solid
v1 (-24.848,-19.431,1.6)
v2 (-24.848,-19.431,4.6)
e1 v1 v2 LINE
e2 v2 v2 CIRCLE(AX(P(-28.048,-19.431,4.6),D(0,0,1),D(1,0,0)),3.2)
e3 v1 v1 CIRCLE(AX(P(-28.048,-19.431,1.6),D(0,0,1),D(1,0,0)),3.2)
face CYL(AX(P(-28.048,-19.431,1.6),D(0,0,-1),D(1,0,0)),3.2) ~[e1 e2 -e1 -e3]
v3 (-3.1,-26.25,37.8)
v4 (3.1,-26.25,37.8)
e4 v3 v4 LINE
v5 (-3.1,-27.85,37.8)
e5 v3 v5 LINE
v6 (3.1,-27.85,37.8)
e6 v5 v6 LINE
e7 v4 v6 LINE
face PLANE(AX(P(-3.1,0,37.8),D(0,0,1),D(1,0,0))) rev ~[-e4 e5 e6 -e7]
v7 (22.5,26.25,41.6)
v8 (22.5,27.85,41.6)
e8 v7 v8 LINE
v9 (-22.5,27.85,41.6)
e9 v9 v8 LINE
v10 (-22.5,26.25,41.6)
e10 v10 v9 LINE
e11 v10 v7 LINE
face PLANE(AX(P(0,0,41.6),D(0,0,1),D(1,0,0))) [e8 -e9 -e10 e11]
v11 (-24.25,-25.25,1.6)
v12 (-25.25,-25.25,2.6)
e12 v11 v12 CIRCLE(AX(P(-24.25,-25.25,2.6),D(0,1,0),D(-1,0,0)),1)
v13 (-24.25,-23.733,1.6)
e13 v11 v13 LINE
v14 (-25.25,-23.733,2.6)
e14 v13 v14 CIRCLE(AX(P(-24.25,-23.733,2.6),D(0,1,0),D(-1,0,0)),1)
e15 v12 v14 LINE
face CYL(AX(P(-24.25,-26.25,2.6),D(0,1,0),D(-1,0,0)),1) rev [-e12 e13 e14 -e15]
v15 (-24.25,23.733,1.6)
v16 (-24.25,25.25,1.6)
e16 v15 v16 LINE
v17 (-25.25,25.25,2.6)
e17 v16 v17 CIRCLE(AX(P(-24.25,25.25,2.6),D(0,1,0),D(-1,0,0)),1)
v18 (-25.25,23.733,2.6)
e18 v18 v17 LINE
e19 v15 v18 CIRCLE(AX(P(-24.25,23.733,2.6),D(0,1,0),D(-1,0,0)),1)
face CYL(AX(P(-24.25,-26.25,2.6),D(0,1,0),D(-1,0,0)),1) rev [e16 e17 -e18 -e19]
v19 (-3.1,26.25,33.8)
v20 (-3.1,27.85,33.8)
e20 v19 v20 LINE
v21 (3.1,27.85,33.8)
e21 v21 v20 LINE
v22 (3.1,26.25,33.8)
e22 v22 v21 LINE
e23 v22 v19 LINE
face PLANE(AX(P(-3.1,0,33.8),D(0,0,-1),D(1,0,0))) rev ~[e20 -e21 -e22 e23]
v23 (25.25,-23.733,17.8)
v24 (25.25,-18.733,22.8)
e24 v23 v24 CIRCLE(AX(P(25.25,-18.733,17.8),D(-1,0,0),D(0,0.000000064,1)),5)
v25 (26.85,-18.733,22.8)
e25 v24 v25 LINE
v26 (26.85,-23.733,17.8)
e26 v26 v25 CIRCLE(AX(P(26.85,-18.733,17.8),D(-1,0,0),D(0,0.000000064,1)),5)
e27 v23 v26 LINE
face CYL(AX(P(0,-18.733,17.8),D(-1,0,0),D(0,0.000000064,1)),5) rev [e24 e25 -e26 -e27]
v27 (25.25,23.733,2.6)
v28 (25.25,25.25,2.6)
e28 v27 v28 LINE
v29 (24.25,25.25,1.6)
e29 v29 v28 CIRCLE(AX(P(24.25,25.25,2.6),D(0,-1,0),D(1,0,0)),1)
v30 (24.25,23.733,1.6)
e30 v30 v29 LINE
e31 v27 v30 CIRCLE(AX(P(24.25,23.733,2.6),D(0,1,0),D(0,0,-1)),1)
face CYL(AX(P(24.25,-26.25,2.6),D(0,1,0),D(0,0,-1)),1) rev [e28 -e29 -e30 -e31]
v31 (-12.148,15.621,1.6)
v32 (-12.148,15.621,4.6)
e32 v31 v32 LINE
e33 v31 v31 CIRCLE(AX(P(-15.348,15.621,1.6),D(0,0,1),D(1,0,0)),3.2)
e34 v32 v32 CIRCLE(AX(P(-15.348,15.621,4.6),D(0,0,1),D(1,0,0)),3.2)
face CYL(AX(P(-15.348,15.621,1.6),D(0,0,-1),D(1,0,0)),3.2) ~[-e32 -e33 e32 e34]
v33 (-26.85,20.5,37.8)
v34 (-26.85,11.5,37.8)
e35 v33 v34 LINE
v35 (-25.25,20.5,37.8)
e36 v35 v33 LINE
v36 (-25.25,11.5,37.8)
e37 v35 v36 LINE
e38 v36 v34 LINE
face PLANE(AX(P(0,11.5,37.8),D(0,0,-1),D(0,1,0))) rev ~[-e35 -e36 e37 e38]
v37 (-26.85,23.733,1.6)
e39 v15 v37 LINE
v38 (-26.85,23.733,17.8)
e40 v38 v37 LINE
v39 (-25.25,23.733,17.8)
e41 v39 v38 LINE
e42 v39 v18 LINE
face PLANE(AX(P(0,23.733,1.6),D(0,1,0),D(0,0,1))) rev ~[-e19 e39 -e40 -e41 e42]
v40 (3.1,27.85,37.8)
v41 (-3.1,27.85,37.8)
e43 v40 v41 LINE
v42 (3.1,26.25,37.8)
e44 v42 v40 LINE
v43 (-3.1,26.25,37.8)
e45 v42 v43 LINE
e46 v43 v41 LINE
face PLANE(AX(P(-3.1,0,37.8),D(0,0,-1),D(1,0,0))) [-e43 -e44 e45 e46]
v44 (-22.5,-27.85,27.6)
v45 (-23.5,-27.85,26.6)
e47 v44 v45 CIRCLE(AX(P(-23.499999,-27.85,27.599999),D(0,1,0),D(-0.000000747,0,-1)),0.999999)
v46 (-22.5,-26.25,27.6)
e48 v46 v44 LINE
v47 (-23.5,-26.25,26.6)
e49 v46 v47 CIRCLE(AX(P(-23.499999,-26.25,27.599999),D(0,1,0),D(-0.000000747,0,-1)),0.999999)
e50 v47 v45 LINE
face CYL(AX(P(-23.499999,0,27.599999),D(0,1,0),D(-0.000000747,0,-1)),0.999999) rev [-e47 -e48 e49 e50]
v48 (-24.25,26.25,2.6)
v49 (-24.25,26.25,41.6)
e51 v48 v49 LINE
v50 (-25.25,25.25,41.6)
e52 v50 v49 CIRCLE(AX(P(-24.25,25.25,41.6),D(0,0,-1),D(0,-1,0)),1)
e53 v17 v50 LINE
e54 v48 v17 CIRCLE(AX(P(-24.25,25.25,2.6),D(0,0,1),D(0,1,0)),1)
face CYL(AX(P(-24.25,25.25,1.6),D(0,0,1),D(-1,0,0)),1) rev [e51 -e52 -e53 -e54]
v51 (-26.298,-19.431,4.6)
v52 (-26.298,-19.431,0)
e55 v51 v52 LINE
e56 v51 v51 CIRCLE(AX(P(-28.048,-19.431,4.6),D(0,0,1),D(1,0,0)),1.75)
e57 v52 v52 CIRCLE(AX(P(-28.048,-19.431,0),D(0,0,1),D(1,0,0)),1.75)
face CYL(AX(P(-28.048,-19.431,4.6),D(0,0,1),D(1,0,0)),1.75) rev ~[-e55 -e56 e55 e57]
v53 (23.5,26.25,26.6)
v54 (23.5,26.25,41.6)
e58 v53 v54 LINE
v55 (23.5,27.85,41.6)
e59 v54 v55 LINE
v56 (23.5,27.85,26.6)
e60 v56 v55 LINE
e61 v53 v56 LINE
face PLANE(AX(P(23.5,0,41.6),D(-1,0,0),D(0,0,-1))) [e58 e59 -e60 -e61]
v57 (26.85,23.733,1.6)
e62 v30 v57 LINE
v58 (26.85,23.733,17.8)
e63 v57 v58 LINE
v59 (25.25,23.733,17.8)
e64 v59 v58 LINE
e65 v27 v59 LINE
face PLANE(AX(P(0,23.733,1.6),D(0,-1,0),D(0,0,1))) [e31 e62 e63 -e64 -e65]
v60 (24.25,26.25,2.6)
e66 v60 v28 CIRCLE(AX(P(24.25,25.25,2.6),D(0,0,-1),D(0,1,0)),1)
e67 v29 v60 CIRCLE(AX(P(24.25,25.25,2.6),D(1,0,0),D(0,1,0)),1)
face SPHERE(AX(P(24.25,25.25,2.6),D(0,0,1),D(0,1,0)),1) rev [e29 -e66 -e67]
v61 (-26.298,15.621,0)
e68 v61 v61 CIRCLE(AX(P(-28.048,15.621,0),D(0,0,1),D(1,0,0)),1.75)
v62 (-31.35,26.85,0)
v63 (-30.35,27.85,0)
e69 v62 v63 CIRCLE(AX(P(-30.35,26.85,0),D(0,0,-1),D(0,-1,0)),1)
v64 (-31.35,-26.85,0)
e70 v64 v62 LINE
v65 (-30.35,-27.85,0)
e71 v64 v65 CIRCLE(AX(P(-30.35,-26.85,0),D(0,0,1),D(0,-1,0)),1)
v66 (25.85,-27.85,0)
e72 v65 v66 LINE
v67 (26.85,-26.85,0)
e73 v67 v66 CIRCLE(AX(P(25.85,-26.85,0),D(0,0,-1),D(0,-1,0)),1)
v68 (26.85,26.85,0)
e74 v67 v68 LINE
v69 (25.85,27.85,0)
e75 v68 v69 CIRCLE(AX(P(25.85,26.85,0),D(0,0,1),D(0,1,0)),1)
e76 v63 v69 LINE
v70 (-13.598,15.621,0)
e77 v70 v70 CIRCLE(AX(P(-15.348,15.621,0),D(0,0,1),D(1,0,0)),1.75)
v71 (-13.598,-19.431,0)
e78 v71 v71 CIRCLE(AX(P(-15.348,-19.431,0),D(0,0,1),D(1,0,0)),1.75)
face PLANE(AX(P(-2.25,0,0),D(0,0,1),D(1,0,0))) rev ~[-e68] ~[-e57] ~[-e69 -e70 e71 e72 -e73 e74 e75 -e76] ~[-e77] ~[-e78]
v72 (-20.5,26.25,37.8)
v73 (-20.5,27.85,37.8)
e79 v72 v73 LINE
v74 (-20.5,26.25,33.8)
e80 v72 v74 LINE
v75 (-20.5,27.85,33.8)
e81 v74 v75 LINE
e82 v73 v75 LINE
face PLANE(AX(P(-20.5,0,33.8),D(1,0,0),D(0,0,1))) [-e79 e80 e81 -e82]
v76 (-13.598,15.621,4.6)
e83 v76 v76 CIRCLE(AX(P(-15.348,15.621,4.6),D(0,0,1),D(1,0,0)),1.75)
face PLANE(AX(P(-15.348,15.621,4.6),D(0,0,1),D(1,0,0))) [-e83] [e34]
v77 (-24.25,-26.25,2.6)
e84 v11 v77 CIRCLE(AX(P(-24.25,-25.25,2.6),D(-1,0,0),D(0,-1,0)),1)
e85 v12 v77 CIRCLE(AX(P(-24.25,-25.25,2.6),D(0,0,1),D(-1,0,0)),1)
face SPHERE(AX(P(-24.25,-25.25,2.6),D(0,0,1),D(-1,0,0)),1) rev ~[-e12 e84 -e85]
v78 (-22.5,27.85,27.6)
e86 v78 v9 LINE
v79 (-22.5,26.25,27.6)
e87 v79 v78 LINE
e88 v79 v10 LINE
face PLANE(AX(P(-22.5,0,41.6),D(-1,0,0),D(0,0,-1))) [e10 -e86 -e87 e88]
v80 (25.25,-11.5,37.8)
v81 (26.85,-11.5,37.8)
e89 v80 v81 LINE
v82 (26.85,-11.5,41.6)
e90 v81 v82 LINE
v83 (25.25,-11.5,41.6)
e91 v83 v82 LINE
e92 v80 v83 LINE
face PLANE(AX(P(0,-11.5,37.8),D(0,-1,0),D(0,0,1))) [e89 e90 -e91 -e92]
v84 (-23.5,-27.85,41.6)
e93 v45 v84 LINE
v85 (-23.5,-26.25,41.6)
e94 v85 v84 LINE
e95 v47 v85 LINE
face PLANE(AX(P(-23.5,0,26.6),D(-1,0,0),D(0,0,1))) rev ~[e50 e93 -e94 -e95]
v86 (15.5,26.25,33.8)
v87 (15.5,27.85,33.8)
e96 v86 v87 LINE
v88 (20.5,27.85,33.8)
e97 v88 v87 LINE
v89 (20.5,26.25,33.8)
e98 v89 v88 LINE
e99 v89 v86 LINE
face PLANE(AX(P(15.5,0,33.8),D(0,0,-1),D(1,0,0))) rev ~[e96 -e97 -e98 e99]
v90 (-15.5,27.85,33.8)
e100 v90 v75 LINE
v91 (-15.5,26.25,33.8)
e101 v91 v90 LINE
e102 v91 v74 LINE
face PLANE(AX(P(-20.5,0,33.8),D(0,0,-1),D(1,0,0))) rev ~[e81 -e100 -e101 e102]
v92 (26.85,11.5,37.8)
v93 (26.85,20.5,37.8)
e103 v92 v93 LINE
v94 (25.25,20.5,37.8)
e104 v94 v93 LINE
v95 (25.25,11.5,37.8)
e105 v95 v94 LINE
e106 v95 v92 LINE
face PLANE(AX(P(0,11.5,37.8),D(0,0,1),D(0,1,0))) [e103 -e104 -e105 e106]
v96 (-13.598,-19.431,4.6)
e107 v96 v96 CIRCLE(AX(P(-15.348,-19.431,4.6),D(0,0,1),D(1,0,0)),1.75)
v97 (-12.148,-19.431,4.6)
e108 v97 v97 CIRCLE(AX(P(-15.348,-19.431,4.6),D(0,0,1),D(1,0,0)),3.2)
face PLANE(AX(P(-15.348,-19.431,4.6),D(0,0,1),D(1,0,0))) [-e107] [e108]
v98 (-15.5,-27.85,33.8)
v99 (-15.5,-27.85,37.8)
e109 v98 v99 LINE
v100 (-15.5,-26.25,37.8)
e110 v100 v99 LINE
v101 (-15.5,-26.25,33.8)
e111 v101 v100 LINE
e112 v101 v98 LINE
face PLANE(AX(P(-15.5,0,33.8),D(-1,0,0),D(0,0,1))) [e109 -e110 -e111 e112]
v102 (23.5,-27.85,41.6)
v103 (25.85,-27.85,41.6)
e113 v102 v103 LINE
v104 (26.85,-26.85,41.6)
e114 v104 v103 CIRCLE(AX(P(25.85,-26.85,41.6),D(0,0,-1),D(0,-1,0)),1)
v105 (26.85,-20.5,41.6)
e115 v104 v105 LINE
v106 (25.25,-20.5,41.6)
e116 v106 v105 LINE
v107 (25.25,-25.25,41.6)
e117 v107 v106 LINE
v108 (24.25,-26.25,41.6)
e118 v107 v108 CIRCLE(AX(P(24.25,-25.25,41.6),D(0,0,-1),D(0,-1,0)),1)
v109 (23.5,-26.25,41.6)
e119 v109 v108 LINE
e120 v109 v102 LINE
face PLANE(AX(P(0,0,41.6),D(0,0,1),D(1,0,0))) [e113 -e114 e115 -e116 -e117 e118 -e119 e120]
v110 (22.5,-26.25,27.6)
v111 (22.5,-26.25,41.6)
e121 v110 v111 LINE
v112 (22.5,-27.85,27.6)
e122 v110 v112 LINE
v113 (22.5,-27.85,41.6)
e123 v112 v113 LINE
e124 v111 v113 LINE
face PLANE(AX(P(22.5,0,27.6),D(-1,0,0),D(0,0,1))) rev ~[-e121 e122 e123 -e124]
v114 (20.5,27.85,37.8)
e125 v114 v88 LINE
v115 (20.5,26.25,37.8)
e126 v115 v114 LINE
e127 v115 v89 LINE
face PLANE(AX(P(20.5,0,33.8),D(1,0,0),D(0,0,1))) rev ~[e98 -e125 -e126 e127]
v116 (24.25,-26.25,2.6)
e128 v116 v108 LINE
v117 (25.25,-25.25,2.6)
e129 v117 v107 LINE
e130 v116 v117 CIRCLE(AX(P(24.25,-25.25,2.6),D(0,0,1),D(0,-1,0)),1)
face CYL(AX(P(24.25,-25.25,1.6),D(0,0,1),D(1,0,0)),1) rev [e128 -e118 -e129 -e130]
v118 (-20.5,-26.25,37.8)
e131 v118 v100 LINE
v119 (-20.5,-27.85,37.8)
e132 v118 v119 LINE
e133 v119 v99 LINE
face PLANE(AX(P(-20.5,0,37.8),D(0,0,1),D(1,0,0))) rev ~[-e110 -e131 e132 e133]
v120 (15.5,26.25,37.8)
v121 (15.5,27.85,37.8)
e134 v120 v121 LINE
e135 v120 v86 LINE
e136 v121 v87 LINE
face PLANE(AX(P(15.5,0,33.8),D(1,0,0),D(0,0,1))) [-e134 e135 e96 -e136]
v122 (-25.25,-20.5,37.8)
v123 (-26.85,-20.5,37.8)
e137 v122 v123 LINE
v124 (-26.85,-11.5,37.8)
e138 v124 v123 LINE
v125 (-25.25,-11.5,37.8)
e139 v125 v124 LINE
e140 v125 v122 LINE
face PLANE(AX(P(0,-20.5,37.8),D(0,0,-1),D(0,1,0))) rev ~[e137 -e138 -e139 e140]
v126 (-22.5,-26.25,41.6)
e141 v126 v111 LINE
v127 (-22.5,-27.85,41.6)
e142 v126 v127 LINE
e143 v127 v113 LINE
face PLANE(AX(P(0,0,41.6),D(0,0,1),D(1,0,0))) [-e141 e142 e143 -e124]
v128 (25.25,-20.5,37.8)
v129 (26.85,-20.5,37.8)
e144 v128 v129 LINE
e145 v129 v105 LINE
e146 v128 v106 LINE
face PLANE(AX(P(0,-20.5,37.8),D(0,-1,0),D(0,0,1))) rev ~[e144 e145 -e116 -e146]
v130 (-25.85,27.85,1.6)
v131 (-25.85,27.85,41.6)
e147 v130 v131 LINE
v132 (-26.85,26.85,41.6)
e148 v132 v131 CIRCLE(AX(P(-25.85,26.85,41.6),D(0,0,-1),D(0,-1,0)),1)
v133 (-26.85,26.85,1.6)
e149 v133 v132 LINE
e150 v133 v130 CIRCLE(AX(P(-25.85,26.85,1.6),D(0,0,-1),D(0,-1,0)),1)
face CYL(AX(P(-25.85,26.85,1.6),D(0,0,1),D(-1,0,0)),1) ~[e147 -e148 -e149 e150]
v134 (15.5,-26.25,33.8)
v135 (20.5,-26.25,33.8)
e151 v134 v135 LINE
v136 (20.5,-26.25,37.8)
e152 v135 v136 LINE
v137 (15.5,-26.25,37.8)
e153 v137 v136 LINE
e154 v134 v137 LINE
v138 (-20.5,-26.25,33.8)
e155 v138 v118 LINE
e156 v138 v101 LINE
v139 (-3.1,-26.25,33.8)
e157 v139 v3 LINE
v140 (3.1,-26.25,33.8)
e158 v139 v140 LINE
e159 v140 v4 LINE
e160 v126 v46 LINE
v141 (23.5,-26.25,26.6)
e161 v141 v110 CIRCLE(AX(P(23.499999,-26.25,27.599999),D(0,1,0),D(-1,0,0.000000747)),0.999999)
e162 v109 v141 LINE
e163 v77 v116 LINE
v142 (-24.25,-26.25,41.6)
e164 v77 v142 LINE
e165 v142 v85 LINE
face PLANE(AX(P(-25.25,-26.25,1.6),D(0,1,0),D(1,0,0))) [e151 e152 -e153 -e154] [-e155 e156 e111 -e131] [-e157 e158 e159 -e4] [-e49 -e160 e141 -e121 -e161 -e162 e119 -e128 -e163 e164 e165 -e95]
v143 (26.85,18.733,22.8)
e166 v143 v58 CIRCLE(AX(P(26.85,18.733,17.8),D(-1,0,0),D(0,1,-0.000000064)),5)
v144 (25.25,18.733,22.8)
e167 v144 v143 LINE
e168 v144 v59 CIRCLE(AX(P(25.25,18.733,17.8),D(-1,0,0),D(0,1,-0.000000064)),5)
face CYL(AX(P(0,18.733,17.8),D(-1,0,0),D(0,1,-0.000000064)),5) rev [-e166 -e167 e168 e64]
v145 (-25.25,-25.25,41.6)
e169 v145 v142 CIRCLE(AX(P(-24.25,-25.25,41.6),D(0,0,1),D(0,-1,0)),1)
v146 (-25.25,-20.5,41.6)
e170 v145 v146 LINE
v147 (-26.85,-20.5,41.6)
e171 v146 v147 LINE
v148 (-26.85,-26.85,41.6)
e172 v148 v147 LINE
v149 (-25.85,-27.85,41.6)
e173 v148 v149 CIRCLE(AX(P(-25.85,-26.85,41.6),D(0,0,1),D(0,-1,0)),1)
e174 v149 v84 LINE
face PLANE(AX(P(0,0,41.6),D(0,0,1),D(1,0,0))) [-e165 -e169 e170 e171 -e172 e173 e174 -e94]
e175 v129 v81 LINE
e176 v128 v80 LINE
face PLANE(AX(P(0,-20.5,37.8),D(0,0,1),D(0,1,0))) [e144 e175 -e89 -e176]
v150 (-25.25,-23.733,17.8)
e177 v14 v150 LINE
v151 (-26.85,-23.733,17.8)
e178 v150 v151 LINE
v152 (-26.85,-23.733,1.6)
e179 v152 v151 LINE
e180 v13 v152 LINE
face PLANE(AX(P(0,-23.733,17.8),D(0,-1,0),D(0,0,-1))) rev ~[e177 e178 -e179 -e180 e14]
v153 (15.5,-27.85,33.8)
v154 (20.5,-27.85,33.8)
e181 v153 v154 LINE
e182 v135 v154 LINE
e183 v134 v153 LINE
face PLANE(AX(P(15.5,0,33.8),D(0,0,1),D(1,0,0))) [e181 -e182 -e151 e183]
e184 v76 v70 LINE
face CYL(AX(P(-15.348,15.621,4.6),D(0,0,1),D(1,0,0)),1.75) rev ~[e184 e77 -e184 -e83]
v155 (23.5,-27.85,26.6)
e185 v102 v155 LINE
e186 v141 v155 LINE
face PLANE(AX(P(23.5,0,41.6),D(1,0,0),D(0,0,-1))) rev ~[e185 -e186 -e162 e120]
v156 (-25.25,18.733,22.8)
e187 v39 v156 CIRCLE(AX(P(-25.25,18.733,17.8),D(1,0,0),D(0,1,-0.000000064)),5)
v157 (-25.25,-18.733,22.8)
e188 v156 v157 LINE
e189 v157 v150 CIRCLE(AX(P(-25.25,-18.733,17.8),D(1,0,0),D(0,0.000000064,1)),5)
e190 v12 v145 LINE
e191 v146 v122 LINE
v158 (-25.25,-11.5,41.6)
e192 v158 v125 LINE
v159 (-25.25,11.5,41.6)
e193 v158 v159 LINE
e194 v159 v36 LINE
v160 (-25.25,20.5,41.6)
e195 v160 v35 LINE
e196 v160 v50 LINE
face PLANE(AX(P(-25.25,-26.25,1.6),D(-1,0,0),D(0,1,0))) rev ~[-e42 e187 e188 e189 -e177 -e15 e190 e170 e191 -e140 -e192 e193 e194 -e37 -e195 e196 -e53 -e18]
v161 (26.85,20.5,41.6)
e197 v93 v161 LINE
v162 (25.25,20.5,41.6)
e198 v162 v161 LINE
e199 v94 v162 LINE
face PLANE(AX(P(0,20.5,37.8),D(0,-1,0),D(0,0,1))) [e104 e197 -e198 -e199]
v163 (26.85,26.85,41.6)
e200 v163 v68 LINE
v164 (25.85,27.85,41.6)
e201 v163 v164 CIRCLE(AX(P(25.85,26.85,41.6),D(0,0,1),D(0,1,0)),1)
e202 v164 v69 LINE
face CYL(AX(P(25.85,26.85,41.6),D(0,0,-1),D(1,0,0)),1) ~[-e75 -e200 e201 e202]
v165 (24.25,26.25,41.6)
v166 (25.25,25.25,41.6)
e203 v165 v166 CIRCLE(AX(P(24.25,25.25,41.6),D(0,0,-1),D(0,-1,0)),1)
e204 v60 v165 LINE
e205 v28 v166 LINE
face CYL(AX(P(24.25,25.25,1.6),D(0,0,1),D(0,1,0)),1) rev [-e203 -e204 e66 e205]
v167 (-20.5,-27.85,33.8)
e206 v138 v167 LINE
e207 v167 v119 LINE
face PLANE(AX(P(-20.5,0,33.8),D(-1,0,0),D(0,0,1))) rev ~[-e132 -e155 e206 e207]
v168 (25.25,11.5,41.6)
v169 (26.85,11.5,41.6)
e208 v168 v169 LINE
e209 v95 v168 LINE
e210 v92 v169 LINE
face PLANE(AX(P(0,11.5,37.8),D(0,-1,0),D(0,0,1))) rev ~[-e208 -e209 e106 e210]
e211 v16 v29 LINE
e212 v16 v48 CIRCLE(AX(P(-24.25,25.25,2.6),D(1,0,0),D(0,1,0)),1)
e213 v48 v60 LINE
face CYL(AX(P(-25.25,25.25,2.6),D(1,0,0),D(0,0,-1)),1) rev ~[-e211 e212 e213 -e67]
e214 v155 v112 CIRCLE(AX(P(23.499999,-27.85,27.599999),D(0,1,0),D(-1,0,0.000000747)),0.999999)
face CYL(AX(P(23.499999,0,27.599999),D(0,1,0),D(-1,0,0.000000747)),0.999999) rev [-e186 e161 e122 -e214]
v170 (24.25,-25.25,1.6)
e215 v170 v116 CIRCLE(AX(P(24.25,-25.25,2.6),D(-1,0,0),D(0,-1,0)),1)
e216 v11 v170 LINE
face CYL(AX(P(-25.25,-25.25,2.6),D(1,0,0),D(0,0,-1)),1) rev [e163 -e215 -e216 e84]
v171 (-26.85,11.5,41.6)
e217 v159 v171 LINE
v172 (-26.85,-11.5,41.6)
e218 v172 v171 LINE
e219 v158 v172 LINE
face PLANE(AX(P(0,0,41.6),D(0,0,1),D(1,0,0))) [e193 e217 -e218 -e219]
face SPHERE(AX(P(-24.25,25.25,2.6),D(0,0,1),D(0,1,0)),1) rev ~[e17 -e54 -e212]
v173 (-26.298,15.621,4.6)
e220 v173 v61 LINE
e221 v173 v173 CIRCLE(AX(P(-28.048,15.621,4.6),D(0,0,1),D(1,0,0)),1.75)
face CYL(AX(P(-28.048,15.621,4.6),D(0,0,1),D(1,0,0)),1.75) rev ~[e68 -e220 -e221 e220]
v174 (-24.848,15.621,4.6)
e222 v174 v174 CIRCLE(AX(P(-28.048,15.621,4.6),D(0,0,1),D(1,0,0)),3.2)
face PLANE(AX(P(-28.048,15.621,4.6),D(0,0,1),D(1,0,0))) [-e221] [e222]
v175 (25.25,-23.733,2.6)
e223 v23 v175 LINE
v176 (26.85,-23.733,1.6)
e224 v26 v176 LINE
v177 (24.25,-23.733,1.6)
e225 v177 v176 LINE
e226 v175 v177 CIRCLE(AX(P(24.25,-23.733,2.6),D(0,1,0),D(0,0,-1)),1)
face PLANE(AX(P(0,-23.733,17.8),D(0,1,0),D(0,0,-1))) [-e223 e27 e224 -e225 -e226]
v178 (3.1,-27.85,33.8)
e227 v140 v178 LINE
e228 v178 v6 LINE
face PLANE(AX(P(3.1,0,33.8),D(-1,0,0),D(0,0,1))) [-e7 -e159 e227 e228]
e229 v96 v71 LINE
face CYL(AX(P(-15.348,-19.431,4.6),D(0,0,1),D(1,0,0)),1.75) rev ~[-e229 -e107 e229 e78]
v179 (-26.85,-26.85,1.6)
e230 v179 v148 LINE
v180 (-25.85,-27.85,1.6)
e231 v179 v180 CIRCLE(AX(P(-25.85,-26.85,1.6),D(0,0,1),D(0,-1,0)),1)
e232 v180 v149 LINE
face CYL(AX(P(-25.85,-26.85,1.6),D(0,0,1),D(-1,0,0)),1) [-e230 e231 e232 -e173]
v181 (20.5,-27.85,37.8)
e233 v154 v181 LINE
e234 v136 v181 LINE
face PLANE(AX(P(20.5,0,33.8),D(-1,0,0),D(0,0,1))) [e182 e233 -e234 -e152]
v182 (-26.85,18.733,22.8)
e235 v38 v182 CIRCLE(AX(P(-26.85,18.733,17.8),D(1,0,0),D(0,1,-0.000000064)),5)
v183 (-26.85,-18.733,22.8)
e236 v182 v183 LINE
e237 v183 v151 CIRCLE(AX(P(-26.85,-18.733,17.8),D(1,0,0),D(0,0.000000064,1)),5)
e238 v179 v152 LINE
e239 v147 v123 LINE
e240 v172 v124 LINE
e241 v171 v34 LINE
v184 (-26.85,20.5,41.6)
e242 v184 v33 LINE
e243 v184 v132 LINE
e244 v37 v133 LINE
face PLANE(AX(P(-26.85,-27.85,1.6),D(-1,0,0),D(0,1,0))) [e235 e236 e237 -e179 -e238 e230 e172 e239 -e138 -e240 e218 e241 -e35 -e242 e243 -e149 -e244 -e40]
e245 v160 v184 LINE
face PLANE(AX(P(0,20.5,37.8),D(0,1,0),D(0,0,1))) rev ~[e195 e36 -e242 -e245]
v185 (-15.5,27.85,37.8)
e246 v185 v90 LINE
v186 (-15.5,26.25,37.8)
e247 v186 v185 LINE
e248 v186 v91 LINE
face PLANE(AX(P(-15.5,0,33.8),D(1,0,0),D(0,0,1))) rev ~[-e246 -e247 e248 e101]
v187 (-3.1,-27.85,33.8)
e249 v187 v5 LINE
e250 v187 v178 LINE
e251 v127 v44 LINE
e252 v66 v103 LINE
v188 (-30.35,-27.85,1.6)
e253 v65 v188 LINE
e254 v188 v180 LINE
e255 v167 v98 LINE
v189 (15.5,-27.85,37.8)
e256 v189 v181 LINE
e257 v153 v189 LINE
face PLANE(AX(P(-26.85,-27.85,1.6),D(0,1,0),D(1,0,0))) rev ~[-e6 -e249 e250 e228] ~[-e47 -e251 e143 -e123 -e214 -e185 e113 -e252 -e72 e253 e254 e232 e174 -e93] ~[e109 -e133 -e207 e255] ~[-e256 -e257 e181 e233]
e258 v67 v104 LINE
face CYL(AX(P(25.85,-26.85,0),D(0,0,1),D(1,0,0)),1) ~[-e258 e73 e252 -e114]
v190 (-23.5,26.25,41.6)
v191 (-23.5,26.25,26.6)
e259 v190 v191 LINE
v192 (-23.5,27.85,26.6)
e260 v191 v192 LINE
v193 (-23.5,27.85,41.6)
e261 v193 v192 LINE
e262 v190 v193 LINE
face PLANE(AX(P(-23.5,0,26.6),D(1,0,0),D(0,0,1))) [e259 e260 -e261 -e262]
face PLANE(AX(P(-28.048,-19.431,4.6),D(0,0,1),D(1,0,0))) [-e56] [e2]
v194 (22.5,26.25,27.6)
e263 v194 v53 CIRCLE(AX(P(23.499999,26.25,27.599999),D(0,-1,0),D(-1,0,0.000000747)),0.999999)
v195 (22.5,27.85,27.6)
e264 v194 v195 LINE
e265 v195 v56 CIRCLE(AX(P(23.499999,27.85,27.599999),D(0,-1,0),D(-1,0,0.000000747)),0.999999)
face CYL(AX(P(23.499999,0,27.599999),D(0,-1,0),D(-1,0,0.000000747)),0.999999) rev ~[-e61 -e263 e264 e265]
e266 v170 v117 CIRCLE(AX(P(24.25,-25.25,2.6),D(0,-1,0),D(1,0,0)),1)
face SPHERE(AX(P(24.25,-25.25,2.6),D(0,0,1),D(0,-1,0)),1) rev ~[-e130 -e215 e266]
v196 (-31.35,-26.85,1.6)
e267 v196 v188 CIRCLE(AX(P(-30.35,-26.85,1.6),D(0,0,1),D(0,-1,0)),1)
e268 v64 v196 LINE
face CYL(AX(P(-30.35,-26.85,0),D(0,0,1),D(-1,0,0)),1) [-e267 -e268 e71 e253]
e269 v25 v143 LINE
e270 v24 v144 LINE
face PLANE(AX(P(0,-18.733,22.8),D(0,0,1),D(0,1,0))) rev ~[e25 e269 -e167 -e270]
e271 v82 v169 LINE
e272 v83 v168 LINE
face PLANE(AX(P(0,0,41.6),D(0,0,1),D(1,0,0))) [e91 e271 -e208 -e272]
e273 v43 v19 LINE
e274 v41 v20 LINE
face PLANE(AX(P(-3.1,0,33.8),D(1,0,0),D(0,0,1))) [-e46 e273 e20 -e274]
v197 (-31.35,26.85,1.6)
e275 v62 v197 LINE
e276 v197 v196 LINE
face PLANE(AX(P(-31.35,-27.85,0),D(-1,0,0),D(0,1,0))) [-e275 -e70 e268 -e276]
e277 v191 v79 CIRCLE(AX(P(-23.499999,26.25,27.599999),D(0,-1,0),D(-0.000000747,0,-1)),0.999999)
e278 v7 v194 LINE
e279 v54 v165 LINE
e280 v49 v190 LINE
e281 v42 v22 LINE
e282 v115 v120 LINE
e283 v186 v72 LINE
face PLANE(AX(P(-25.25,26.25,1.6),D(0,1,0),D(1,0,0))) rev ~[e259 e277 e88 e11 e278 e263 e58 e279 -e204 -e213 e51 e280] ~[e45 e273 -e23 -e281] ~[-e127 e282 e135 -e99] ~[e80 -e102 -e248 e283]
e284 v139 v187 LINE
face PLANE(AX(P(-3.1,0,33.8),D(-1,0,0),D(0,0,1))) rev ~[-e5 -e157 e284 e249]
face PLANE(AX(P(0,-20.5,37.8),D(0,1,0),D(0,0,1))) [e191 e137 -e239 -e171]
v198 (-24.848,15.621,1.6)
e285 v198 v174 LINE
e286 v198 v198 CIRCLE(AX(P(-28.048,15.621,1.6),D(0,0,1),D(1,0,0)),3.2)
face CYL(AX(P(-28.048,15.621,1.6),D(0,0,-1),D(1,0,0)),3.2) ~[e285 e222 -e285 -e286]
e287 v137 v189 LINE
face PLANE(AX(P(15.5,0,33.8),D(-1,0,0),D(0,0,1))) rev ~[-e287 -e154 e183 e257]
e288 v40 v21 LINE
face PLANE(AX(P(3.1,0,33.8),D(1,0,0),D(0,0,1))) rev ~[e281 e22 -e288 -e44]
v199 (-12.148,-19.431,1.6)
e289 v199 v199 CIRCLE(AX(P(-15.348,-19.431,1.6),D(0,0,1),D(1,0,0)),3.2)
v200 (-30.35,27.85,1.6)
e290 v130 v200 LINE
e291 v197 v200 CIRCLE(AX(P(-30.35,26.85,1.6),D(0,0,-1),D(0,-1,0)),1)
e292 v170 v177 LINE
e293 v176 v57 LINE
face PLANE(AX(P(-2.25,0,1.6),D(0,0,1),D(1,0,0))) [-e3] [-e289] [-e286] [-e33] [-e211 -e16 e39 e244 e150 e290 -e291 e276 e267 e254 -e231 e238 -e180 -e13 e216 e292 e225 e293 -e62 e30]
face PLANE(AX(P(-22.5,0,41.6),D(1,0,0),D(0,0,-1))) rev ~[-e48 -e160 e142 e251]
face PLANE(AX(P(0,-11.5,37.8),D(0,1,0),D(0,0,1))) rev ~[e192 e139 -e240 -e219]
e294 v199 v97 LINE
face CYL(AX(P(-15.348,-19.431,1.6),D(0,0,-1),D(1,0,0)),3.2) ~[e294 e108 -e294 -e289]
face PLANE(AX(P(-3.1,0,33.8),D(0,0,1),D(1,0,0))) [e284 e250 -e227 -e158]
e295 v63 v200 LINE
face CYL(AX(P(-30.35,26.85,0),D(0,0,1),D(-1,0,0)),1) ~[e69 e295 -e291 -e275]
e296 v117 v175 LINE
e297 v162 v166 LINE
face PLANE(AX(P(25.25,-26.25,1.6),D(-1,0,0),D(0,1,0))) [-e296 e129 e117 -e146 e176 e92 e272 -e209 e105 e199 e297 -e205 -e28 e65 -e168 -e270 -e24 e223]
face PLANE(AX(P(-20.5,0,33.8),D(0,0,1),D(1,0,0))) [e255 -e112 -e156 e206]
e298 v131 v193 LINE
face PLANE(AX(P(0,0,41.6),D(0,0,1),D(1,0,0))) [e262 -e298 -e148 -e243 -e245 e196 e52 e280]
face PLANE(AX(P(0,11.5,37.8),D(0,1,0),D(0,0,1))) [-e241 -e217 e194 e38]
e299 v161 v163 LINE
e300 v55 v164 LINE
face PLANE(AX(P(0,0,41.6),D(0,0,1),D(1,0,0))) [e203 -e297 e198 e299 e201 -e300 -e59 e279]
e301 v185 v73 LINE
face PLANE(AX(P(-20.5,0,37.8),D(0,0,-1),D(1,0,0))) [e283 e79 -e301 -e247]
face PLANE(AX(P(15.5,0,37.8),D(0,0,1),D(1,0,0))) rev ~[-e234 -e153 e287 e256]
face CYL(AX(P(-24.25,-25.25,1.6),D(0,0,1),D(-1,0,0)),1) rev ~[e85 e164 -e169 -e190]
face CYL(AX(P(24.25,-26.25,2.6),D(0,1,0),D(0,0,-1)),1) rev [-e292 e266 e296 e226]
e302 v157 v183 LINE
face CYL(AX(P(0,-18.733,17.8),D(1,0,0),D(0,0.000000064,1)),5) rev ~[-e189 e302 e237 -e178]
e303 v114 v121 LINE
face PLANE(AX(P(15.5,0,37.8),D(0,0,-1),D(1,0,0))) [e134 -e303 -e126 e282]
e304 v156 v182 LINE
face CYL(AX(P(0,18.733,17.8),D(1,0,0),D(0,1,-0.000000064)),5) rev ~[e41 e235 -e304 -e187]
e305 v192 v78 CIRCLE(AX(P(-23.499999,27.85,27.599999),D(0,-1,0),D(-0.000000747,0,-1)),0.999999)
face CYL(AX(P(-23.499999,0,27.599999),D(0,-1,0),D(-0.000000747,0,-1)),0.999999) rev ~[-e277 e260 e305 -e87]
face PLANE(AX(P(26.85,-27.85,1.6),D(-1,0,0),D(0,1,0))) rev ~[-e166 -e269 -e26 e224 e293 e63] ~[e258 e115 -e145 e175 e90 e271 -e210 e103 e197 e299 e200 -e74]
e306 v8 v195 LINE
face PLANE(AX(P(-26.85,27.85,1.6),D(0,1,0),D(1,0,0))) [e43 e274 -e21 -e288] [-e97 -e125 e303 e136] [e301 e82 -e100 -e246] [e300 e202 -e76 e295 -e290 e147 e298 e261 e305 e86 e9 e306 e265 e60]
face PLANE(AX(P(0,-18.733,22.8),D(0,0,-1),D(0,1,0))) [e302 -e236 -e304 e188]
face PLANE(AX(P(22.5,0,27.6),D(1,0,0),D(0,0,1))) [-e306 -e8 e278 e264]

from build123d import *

# Parameters (mm, degrees)
SKETCH041_W          = 58.2
SKETCH041_H          = 55.7
PAD012_DEPTH         = 1.6
SKETCH046_W          = 53.7
SKETCH046_H          = 55.7
SKETCH046_W_2        = 50.5
SKETCH046_H_2        = 52.5
PAD014_DEPTH         = 40
FILLET005_R          = 1
SKETCH039_W          = 6.2
SKETCH039_H          = 4
SKETCH039_W_2        = 5
POCKET011_DEPTH      = 27.851
POCKET011_DEPTH_BACK = 27.851
SKETCH040_W          = 9
SKETCH040_H          = 3.8
POCKET013_DEPTH      = 31.351
POCKET013_DEPTH_BACK = 26.851
SKETCH042_R          = 3.2
PAD013_DEPTH         = 3
SKETCH045_R          = 1.75
POCKET012_DEPTH      = 4.601


with BuildPart() as part:
    # Sketch041 → Pad012 (new body)
    with BuildSketch(Plane.XY):
        with Locations((-2.25, 0)):
            Rectangle(SKETCH041_W, SKETCH041_H)
    extrude(amount=PAD012_DEPTH)

    # Sketch046 → Pad014 (join)
    with BuildSketch(Plane.XY.offset(1.6)):
        Rectangle(SKETCH046_W, SKETCH046_H)
        Rectangle(SKETCH046_W_2, SKETCH046_H_2, mode=Mode.SUBTRACT)
    extrude(amount=PAD014_DEPTH)

    # Fillet005
    fillet005_edges = [part.edges().sort_by_distance(p)[0] for p in [
        (-31.35, -27.85, 0.8),
        (-31.35, 27.85, 0.8),
        (-26.85, 27.85, 21.6),
        (-26.85, -27.85, 21.6),
        (26.85, -27.85, 20.8),
        (25.25, 26.25, 21.6),
        (-25.25, 26.25, 21.6),
        (26.85, 27.85, 20.8),
        (-25.25, -26.25, 21.6),
        (25.25, -26.25, 21.6),
        (0, 26.25, 1.6),
        (-25.25, 0, 1.6),
        (0, -26.25, 1.6),
        (25.25, 0, 1.6),
    ]]
    fillet(fillet005_edges, radius=FILLET005_R)

    # Sketch039 → Pocket011 (cut, two sides)
    with BuildSketch(Plane.XZ) as pocket011_sk:
        with Locations((0, 35.8)):
            Rectangle(SKETCH039_W, SKETCH039_H)
        with Locations((-18, 35.8)):
            Rectangle(SKETCH039_W_2, SKETCH039_H)
        with Locations((18, 35.8)):
            Rectangle(SKETCH039_W_2, SKETCH039_H)
        with BuildLine():
            Line((22.5, 41.6), (23.5, 41.6))
            Line((23.5, 41.6), (23.5, 26.6))
            ThreePointArc((22.5, 27.6), (22.792893, 26.892893), (23.5, 26.6))
            Line((22.5, 27.6), (22.5, 41.6))
        make_face()
        with BuildLine():
            Line((-23.5, 41.6), (-22.5, 41.6))
            Line((-22.5, 41.6), (-22.5, 27.6))
            ThreePointArc((-23.5, 26.6), (-22.792893, 26.892893), (-22.5, 27.6))
            Line((-23.5, 26.6), (-23.5, 41.6))
        make_face()
    extrude(amount=-POCKET011_DEPTH, mode=Mode.SUBTRACT)
    extrude(pocket011_sk.sketch, amount=POCKET011_DEPTH_BACK, mode=Mode.SUBTRACT)

    # Sketch040 → Pocket013 (cut, two sides)
    with BuildSketch(Plane.YZ) as pocket013_sk:
        with Locations((-16, 39.7)):
            Rectangle(SKETCH040_W, SKETCH040_H)
        with Locations((16, 39.7)):
            Rectangle(SKETCH040_W, SKETCH040_H)
        with BuildLine():
            Line((-18.733, 22.8), (18.733, 22.8))
            ThreePointArc((23.733, 17.8), (22.268534, 21.335534), (18.733, 22.8))
            Line((23.733, 1.6), (23.733, 17.8))
            Line((-23.733, 1.6), (23.733, 1.6))
            Line((-23.733, 17.8), (-23.733, 1.6))
            ThreePointArc((-18.733, 22.8), (-22.268534, 21.335534), (-23.733, 17.8))
        make_face()
    extrude(amount=-POCKET013_DEPTH, mode=Mode.SUBTRACT)
    extrude(pocket013_sk.sketch, amount=POCKET013_DEPTH_BACK, mode=Mode.SUBTRACT)

    # Sketch042 → Pad013 (join)
    with BuildSketch(Plane.XY.offset(1.6)):
        with Locations((-15.348, 15.621)):
            Circle(SKETCH042_R)
        with Locations((-28.048, -19.431)):
            Circle(SKETCH042_R)
        with Locations((-15.348, -19.431)):
            Circle(SKETCH042_R)
        with Locations((-28.048, 15.621)):
            Circle(SKETCH042_R)
    extrude(amount=PAD013_DEPTH)

    # Sketch045 → Pocket012 (cut, through all)
    with BuildSketch(Plane.XY.offset(4.6)):
        with Locations((-28.048, 15.621)):
            Circle(SKETCH045_R)
        with Locations((-15.348, 15.621)):
            Circle(SKETCH045_R)
        with Locations((-15.348, -19.431)):
            Circle(SKETCH045_R)
        with Locations((-28.048, -19.431)):
            Circle(SKETCH045_R)
    extrude(amount=-POCKET012_DEPTH, mode=Mode.SUBTRACT)


solid = part.part
